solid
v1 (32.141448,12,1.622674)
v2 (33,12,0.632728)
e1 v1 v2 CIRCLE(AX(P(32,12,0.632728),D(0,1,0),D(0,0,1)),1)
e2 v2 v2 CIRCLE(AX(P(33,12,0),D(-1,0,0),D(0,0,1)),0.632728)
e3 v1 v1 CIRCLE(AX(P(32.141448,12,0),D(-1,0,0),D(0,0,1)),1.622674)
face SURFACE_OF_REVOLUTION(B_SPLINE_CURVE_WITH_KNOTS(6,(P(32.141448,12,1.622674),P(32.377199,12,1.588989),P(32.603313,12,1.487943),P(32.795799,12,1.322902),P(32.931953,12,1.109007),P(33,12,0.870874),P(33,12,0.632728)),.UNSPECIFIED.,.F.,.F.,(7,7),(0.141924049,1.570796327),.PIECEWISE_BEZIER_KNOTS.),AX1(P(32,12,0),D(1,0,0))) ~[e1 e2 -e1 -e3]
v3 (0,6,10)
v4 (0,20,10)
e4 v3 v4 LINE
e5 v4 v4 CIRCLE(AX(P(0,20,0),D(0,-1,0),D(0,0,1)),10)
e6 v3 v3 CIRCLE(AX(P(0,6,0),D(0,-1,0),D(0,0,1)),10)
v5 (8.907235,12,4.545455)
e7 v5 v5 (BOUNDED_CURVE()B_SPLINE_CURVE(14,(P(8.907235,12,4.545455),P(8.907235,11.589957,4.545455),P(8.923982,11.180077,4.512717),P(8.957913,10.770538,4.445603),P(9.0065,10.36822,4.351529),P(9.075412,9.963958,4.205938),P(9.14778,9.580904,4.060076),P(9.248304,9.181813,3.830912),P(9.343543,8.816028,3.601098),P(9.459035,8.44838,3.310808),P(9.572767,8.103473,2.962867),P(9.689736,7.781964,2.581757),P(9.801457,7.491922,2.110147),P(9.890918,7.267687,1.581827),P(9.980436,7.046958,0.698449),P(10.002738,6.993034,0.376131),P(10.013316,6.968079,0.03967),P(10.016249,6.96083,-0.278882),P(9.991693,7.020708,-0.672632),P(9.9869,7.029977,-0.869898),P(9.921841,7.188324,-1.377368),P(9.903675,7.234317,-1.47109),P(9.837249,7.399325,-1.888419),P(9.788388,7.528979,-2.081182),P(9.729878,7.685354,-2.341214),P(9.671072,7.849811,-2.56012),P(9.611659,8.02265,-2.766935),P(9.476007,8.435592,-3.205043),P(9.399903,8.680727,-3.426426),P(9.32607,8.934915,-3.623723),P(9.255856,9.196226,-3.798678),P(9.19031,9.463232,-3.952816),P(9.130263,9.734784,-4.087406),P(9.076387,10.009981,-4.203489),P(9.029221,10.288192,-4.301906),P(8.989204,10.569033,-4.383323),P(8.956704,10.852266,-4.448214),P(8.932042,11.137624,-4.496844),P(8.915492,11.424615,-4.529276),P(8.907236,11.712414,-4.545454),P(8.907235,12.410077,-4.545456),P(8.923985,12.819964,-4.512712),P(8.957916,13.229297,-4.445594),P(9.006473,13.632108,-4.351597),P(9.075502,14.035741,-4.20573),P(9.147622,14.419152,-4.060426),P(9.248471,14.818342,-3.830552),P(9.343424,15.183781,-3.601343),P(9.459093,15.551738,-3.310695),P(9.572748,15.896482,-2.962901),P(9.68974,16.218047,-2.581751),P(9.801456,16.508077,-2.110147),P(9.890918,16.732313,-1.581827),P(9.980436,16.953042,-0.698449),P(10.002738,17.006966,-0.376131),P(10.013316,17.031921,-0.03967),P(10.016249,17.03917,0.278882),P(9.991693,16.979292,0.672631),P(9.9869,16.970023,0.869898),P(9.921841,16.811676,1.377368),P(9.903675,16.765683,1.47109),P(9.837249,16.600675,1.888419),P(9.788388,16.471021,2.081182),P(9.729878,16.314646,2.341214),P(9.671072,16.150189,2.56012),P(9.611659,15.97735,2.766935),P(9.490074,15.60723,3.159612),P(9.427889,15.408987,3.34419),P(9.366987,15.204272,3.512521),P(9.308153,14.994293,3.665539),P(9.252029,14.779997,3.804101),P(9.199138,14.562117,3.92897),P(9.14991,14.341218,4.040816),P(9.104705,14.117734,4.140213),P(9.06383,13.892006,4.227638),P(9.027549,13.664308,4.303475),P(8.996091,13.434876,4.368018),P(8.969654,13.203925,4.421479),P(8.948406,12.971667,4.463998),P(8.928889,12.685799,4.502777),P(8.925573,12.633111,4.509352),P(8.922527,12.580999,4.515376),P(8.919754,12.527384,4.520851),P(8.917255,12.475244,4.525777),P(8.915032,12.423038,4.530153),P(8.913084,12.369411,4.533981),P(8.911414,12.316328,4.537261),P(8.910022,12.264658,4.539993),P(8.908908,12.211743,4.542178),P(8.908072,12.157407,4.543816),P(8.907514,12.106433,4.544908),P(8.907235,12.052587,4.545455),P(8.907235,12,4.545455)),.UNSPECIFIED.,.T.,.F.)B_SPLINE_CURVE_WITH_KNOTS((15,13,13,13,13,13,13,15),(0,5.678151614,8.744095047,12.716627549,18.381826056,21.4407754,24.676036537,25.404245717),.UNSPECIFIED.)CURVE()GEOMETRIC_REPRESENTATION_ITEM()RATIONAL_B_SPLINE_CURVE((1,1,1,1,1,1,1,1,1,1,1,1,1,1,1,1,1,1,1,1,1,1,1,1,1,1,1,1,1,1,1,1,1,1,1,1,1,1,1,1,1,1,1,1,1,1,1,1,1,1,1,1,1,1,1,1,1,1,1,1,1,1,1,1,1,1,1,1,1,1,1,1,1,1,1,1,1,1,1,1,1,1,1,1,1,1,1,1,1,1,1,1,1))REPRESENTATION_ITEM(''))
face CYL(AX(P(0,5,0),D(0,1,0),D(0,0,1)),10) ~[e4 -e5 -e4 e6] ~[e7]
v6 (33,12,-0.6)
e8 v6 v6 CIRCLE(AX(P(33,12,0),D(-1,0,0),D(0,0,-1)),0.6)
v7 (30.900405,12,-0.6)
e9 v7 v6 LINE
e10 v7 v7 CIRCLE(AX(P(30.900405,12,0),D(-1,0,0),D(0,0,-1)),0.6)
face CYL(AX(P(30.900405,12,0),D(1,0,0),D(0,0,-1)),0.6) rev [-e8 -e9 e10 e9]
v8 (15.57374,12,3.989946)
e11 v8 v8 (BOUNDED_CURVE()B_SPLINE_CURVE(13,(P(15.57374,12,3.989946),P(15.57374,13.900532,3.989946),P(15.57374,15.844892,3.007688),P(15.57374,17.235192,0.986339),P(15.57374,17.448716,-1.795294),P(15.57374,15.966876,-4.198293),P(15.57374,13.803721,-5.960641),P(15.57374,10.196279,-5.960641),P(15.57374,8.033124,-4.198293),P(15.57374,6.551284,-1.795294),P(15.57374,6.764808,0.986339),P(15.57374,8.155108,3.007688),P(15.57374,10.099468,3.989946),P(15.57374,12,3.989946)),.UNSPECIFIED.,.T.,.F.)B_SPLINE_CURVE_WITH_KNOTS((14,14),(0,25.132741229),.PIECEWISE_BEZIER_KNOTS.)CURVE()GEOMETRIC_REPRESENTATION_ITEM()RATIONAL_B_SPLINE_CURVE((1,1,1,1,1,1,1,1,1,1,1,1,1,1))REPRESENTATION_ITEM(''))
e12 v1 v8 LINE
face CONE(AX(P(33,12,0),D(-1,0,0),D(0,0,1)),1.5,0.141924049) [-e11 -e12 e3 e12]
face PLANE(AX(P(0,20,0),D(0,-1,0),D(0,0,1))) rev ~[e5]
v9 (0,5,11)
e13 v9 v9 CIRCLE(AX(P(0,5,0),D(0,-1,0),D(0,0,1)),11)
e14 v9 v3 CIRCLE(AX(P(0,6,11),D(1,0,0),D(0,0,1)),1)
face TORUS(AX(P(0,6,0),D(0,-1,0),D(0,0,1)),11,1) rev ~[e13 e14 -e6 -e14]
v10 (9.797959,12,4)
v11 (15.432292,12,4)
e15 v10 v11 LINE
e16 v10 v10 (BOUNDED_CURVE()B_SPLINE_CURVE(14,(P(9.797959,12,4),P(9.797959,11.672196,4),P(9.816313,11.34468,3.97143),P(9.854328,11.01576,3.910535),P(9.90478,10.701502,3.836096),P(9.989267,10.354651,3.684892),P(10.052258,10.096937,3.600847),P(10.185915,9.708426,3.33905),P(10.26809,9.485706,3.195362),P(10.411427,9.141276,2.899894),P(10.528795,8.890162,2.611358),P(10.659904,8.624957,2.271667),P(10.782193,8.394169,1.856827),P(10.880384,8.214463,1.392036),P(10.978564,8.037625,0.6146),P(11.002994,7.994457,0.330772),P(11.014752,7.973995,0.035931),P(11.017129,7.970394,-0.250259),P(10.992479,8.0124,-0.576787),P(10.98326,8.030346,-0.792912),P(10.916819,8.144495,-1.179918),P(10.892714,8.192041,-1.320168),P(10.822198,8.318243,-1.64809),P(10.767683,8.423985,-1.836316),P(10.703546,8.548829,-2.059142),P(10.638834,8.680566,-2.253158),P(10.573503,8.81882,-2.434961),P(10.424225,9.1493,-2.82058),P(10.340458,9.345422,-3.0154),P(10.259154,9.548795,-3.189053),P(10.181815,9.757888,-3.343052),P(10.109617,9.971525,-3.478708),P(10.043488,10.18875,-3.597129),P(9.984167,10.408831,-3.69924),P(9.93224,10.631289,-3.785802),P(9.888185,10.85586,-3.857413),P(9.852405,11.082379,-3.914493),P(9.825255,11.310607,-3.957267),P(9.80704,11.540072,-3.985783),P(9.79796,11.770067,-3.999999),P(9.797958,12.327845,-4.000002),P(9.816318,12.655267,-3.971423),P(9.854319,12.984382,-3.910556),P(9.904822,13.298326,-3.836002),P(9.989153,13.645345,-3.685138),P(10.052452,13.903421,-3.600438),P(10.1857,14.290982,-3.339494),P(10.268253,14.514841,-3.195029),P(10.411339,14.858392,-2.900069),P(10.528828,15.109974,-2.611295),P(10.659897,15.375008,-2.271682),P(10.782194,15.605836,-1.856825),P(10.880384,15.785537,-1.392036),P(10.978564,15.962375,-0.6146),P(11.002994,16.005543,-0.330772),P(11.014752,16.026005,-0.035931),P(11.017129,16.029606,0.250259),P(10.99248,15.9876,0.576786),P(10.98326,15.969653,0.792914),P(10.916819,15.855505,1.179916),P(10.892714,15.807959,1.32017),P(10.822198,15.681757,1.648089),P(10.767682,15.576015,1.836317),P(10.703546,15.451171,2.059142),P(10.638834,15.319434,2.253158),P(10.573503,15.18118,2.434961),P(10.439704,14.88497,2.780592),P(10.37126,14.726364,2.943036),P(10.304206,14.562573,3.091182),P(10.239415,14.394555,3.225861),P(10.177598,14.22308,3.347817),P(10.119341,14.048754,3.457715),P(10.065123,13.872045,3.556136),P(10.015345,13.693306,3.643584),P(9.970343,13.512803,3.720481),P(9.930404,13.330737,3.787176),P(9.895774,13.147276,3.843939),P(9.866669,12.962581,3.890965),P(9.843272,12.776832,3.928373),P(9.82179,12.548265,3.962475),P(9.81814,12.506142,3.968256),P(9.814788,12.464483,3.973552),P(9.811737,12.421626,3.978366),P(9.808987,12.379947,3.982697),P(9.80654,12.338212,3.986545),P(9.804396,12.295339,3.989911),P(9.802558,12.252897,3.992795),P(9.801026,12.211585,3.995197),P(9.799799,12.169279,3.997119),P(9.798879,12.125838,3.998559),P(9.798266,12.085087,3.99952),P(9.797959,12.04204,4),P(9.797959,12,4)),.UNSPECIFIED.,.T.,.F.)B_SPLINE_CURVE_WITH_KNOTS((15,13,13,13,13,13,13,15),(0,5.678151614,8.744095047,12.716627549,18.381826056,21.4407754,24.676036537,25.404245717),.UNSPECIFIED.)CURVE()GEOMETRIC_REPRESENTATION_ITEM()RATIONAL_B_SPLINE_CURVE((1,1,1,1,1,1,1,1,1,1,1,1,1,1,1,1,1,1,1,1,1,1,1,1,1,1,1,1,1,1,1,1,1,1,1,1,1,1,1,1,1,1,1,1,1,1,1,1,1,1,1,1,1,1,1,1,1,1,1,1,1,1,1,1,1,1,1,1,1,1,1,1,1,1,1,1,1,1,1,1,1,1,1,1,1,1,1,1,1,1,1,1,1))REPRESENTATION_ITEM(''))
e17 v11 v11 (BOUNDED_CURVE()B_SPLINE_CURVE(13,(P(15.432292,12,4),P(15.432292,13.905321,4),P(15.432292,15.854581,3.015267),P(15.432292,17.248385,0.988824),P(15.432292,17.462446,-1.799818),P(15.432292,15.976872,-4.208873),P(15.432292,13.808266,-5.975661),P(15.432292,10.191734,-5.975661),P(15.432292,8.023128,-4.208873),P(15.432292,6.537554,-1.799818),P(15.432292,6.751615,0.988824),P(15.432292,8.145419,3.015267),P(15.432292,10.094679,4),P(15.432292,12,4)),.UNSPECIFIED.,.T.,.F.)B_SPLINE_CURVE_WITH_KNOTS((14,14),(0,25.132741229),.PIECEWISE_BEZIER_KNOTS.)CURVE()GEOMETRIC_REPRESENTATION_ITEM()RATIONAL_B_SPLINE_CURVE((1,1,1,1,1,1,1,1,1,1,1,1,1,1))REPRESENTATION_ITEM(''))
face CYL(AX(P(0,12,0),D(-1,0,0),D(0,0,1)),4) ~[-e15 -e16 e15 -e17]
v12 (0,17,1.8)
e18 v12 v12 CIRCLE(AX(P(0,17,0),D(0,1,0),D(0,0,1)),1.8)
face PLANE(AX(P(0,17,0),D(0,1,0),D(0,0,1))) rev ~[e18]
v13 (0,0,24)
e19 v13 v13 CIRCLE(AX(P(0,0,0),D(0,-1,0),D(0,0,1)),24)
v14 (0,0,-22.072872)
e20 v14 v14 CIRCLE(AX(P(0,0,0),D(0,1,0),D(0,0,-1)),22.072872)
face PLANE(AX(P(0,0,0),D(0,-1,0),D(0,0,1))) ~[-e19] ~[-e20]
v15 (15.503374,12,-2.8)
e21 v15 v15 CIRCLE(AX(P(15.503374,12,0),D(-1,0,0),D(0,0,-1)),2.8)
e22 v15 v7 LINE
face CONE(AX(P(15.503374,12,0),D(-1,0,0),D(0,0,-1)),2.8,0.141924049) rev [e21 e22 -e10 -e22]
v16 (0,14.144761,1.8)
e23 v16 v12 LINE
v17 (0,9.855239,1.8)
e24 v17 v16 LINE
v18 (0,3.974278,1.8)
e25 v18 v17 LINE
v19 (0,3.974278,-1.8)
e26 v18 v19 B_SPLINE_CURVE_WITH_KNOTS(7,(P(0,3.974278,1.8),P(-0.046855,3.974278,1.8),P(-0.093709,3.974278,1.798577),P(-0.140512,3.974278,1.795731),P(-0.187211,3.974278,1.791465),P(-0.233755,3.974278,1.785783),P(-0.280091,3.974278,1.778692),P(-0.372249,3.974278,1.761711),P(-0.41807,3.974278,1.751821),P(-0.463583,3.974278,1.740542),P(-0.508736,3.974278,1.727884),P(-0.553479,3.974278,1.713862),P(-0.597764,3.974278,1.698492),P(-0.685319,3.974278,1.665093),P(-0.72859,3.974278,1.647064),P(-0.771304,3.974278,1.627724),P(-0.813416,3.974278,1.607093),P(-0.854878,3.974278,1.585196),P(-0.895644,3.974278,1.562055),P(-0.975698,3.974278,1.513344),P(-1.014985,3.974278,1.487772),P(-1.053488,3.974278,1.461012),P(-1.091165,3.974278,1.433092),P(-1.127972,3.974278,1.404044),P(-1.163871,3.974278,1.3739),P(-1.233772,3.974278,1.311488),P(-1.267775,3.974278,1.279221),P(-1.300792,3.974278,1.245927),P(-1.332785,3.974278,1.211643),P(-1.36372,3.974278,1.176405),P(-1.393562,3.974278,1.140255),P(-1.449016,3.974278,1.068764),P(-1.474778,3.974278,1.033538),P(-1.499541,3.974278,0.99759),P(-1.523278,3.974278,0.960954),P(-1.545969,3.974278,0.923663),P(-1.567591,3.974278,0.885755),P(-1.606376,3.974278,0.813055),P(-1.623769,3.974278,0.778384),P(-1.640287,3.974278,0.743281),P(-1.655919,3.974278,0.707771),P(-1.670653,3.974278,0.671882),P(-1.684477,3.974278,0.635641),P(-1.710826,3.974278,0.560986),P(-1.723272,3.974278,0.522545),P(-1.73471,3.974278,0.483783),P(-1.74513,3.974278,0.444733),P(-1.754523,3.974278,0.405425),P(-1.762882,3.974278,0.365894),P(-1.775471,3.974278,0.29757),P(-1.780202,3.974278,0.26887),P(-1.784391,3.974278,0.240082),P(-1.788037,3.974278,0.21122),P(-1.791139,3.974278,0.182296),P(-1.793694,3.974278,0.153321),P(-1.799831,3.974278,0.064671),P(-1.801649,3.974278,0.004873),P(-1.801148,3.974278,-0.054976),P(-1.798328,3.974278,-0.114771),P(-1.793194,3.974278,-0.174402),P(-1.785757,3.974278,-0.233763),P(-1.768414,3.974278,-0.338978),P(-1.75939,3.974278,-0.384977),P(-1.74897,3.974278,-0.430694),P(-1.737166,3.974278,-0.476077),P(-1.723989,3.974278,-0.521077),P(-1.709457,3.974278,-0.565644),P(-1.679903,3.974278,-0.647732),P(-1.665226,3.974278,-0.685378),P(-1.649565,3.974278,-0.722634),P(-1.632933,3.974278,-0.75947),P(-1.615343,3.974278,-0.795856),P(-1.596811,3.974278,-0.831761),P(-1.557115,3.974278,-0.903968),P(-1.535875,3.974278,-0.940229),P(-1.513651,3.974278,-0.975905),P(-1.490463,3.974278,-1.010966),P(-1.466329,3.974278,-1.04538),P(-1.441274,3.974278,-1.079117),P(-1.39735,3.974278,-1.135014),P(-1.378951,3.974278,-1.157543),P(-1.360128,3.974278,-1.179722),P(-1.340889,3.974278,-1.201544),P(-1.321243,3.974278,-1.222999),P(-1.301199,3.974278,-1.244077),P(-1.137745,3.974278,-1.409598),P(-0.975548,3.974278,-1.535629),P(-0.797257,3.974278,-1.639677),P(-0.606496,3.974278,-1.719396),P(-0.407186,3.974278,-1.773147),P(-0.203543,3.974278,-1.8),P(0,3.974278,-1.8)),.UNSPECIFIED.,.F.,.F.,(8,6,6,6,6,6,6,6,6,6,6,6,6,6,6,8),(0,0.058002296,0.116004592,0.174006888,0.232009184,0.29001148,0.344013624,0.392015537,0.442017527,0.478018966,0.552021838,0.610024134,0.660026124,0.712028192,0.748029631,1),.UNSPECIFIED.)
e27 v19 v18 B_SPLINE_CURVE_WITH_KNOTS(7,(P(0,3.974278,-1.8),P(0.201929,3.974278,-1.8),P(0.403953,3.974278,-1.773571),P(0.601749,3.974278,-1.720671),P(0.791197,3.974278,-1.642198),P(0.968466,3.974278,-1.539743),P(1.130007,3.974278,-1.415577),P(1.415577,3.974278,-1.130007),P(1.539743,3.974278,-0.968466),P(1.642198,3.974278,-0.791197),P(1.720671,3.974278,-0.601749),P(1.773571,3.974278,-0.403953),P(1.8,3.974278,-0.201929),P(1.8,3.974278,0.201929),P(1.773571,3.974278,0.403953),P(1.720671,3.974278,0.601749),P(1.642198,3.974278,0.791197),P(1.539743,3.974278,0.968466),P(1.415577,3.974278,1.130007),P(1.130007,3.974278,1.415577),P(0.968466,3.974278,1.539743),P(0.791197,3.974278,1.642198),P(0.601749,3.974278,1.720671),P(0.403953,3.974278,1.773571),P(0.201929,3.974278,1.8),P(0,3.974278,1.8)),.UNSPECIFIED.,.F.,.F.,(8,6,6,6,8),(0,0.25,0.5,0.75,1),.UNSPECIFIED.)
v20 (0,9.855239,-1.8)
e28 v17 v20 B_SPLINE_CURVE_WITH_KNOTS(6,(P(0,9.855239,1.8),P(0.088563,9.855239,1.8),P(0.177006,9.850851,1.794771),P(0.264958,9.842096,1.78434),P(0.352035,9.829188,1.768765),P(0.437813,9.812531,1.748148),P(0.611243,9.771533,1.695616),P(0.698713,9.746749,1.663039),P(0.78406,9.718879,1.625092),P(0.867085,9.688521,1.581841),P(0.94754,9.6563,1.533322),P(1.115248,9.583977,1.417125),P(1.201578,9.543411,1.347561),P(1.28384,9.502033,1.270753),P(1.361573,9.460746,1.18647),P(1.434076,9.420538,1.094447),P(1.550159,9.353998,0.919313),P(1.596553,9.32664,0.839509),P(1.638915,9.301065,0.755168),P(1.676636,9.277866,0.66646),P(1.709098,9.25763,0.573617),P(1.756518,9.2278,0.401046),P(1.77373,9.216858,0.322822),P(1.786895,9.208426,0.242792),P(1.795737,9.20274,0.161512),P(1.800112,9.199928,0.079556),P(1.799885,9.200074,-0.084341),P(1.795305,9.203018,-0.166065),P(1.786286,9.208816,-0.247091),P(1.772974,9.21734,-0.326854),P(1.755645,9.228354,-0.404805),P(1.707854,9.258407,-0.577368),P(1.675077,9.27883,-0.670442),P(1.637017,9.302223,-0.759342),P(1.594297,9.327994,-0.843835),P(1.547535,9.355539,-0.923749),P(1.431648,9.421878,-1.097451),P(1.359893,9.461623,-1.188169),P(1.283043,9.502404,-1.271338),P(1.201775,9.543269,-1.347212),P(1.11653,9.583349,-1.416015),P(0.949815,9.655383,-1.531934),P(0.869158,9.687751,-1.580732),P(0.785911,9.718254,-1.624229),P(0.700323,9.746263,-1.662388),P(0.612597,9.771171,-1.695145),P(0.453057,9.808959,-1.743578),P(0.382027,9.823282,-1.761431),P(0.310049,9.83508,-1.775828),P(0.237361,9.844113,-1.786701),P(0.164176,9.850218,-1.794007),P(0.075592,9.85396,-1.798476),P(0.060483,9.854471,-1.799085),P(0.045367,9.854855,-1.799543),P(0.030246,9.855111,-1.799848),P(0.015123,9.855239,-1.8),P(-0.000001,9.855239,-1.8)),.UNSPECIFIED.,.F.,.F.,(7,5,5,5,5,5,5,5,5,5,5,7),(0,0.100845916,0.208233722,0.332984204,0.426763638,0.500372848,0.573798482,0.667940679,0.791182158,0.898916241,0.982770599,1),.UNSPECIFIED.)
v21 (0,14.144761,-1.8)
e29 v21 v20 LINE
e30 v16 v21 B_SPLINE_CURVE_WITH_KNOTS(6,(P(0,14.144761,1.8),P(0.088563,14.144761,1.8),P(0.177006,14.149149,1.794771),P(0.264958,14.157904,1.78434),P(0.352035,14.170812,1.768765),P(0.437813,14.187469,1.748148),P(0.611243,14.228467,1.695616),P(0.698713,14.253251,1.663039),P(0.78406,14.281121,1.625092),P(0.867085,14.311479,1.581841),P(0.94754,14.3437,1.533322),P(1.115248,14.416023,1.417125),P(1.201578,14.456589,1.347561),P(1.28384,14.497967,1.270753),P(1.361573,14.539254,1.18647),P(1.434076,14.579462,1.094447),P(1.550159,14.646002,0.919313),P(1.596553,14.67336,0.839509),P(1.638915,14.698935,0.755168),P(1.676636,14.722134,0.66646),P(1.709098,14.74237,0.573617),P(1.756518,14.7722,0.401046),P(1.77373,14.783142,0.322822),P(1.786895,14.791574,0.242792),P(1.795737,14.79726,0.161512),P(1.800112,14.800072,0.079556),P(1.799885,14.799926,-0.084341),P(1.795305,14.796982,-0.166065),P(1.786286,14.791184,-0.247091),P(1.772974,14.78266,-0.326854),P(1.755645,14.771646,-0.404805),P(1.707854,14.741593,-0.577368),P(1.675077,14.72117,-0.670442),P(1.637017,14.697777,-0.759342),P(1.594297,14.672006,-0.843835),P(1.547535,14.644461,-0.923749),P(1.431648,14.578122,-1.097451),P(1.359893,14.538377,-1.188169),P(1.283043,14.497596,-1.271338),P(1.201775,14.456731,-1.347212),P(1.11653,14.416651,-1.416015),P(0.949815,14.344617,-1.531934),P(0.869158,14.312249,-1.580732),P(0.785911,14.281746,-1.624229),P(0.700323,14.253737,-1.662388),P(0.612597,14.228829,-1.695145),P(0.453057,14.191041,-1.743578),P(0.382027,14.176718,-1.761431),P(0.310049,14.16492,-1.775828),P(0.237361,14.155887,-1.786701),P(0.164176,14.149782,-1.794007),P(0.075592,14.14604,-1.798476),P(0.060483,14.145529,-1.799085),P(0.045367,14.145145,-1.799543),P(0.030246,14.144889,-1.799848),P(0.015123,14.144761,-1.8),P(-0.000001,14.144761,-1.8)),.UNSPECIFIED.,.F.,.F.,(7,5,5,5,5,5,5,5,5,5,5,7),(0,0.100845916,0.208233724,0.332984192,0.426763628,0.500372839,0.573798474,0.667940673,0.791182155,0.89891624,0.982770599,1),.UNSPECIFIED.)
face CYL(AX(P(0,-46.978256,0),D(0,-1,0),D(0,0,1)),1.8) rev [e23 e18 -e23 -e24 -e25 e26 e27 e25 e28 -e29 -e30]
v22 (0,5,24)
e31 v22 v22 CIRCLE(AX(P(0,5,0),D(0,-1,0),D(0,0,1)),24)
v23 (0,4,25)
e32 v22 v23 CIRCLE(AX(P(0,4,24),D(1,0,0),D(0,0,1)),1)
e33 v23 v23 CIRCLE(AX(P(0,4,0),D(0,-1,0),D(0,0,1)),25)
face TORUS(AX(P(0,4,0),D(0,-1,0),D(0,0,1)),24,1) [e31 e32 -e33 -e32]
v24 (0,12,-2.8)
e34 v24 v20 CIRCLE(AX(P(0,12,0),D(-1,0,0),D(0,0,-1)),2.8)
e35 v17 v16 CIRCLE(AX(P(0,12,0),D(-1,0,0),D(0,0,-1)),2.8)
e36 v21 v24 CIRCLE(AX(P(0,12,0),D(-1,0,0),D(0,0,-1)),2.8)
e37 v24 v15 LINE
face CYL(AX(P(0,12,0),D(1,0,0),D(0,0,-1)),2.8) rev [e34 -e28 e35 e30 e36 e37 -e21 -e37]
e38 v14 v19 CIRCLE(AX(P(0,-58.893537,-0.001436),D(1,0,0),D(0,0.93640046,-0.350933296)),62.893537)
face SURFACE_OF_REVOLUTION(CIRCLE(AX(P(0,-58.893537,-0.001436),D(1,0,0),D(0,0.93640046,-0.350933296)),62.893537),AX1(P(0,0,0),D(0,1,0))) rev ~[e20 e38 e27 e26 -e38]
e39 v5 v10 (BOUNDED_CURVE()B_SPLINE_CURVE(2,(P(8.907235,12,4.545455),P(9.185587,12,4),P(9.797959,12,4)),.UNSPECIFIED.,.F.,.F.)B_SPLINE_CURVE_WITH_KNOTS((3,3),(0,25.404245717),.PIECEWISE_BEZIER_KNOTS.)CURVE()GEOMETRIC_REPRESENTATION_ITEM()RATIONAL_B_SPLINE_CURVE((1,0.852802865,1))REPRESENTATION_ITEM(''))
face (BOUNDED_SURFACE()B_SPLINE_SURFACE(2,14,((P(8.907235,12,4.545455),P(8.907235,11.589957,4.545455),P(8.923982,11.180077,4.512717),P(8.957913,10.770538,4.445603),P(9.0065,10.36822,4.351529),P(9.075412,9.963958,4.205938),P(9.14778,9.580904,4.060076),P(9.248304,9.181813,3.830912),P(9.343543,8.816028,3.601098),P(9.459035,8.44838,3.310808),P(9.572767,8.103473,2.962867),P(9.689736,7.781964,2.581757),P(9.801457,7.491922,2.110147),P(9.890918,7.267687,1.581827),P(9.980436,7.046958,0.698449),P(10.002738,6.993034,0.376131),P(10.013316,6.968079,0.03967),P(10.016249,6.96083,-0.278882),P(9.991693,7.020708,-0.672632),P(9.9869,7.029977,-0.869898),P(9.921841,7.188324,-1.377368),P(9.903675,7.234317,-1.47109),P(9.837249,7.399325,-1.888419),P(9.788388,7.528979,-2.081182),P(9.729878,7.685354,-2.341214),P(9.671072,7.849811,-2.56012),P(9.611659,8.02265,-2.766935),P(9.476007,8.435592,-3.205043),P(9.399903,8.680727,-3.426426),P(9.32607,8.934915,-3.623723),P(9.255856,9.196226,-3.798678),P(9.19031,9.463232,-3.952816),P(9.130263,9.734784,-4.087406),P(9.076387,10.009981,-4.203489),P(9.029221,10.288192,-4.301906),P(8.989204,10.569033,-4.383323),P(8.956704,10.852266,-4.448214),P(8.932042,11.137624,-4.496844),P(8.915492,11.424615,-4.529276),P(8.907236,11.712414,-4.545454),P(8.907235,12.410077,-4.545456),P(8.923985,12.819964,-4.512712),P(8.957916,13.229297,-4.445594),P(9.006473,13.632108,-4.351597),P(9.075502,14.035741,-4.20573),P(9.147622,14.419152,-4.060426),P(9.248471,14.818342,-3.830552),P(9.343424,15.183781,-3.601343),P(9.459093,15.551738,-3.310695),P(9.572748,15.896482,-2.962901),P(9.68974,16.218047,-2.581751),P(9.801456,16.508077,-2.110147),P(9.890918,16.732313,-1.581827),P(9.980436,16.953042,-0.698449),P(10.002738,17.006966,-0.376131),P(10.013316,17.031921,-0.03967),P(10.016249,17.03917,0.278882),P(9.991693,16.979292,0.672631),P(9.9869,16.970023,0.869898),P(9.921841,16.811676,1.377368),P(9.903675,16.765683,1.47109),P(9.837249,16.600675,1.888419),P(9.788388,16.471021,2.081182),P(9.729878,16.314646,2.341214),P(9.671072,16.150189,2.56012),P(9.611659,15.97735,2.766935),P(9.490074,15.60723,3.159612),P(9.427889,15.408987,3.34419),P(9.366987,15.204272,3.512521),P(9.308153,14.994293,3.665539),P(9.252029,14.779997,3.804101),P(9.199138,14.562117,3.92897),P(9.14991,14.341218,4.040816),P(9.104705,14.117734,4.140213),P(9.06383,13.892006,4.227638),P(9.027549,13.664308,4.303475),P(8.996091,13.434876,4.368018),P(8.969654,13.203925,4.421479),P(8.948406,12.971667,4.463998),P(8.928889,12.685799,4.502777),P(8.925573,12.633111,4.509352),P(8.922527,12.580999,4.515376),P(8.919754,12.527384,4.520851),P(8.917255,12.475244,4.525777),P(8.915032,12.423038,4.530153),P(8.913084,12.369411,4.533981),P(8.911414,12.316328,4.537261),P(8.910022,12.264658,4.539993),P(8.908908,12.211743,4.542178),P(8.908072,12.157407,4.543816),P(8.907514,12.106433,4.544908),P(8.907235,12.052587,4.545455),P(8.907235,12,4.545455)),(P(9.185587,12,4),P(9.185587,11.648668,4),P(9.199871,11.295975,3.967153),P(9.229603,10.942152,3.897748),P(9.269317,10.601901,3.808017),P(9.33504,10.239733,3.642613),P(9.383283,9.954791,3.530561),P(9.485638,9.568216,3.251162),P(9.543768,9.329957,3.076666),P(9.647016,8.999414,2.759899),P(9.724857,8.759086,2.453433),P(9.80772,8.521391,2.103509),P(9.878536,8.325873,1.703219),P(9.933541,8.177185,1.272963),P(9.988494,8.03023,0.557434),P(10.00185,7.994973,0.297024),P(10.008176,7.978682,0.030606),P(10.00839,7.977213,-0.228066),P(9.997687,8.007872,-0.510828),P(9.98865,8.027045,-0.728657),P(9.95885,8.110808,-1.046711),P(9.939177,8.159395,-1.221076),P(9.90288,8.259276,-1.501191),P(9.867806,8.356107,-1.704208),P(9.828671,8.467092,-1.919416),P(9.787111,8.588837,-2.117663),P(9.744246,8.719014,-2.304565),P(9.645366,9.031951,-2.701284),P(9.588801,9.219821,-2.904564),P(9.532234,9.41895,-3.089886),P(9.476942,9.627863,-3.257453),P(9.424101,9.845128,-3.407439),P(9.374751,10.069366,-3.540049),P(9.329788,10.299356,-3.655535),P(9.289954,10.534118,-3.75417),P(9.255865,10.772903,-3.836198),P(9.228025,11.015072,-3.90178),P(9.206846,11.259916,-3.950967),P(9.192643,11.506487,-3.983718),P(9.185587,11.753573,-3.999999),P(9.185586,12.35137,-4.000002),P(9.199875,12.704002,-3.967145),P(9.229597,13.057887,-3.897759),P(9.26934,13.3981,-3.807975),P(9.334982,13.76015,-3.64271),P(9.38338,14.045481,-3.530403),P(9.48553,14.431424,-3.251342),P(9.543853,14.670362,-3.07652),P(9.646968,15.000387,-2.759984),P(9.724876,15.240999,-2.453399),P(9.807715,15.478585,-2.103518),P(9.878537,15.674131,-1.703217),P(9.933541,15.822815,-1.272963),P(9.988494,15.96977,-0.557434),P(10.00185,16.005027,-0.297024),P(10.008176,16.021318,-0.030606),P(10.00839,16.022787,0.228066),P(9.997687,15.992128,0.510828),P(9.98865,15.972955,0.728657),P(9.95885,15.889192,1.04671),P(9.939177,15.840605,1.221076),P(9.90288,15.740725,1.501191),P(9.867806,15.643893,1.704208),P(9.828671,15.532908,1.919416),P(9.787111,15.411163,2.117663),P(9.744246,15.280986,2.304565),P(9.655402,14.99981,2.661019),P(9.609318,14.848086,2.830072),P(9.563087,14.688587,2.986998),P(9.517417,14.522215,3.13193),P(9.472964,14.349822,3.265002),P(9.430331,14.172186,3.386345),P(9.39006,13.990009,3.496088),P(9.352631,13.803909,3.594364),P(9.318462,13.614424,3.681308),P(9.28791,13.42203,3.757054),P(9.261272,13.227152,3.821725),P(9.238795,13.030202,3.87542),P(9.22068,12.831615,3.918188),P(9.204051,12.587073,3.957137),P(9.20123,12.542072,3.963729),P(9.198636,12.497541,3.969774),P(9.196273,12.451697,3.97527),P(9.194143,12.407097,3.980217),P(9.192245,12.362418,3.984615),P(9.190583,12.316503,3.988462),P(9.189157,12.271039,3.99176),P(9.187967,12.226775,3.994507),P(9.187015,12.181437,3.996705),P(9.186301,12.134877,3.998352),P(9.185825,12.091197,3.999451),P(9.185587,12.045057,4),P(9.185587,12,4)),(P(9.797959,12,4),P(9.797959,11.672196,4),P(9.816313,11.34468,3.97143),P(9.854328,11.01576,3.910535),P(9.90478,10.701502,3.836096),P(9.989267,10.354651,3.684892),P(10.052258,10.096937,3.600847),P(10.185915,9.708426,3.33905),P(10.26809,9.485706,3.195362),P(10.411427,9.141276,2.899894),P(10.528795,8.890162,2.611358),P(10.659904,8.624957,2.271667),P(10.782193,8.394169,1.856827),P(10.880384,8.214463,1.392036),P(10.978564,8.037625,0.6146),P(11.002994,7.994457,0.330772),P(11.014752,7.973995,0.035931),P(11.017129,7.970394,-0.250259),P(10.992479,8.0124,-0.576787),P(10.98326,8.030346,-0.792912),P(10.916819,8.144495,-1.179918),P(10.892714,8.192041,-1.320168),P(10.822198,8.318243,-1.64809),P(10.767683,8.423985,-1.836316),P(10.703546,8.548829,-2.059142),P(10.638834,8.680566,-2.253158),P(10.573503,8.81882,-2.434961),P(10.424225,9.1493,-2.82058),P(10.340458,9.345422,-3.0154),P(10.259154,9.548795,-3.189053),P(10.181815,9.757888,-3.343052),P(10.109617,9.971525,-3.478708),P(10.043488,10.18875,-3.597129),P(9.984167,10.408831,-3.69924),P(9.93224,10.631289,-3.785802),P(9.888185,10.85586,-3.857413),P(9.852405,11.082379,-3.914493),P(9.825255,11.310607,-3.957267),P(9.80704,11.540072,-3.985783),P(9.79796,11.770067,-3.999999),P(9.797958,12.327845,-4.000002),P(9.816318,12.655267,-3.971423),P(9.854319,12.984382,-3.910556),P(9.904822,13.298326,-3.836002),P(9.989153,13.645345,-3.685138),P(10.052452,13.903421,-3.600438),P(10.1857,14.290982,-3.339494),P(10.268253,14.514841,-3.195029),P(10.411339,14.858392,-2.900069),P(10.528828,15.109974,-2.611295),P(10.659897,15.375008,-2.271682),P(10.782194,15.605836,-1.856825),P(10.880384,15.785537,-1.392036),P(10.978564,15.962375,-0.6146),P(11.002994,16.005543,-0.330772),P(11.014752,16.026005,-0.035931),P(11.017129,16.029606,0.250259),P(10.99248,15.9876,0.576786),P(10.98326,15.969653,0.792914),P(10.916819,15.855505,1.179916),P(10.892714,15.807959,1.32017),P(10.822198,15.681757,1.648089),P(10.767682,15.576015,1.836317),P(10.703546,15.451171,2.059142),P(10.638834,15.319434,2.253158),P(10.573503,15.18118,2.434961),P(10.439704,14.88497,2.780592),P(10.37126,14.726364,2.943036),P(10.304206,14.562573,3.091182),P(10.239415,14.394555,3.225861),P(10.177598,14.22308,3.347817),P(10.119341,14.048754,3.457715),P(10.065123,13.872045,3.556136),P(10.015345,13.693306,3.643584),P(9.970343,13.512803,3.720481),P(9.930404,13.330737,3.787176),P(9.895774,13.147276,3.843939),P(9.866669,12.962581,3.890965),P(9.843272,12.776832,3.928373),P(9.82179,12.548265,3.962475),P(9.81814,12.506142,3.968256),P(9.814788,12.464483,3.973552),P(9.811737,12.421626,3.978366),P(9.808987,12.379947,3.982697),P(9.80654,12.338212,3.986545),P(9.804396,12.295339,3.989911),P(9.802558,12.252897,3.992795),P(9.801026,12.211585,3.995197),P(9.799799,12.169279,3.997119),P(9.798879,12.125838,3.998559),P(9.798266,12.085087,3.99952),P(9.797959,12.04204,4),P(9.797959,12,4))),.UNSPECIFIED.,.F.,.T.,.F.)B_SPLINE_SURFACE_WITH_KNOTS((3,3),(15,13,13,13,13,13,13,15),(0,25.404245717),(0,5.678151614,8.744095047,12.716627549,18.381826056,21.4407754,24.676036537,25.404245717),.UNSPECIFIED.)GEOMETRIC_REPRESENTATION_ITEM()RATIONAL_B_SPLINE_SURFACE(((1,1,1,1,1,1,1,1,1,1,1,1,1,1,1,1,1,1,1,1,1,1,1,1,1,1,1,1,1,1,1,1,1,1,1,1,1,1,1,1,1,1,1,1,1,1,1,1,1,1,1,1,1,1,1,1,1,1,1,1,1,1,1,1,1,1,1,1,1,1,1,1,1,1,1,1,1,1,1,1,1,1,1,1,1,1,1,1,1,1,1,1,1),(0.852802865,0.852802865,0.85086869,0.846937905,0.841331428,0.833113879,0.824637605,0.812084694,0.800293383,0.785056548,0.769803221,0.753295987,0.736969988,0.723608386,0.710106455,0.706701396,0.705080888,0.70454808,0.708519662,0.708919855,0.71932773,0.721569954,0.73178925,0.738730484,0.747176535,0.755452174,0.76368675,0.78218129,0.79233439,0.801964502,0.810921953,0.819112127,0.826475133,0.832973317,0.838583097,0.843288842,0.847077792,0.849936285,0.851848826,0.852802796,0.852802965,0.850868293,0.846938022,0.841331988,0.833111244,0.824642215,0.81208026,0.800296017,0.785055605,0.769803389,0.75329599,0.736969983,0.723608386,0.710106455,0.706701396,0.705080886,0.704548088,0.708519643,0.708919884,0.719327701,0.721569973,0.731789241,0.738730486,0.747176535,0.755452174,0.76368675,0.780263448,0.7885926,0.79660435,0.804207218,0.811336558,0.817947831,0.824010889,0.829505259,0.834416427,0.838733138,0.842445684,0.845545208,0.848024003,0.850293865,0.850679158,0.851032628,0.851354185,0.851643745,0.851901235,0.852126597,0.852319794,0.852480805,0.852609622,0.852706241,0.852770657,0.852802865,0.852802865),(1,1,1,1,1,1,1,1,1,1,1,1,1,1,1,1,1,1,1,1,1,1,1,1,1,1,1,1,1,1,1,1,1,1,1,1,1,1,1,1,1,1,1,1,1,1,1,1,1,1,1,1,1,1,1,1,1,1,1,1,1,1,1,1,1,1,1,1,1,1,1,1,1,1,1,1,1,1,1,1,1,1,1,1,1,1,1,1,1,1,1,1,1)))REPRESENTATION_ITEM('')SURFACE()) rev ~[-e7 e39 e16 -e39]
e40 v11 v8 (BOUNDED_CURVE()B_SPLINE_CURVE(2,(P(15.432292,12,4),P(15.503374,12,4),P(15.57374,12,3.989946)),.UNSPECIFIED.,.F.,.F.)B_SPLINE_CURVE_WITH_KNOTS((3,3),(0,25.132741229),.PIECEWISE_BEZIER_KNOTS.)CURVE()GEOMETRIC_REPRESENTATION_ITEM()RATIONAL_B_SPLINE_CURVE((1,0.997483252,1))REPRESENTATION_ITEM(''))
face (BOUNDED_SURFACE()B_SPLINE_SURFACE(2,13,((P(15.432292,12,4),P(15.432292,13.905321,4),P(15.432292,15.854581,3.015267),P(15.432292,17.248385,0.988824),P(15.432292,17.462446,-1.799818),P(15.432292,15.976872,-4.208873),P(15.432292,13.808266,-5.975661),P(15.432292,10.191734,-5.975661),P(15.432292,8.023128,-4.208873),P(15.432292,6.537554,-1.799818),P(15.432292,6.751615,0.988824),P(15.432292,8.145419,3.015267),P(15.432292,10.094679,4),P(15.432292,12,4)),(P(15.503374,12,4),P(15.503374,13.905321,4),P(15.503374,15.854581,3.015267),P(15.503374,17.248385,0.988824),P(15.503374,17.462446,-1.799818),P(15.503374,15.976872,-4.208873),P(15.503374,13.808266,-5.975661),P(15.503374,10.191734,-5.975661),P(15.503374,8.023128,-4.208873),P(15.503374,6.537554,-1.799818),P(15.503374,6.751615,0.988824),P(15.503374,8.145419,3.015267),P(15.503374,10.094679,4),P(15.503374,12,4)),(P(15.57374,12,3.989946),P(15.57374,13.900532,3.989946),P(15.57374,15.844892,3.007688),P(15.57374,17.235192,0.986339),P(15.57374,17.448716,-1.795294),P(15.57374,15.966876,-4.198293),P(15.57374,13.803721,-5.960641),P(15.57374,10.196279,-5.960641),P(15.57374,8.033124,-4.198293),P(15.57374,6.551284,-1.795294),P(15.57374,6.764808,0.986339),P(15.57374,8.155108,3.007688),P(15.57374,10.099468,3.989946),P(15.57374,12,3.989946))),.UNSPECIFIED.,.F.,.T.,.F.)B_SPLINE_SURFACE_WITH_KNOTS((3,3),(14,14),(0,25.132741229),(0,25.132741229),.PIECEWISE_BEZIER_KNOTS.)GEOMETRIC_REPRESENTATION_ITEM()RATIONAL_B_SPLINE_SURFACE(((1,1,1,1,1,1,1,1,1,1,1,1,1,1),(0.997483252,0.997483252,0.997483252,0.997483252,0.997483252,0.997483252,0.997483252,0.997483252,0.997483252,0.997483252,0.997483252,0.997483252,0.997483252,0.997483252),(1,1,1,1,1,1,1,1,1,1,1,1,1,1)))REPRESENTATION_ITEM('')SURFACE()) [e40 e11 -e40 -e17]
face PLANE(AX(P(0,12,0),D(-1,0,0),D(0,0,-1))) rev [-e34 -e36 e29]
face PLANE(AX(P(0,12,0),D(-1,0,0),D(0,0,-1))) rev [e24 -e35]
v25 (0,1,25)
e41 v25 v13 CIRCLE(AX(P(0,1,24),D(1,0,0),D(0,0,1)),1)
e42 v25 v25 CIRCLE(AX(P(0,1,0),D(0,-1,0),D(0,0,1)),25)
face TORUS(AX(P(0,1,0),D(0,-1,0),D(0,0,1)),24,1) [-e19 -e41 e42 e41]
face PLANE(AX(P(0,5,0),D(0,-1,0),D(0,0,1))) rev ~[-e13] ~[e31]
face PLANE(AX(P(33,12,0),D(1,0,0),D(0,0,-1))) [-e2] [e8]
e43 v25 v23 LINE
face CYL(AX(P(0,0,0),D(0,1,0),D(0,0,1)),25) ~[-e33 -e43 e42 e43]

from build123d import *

# Parameters (mm, degrees)
SKETCH3_R               = 4
BOSS_EXTRUDE1_DEPTH     = 25
BOSS_EXTRUDE2_START     = 25
SKETCH3_5_R             = 3
BOSS_EXTRUDE2_DEPTH     = 8
FILLET1_R               = 1
CUT_EXTRUDE1_DEPTH      = 17
CUT_EXTRUDE1_DEPTH_BACK = 46.978255774
SKETCH15_R              = 1.8
FILLET3_R               = 1


with BuildPart() as part:
    # Sketch1 → Revolve1 (revolve)
    with BuildSketch(Plane.XY, mode=Mode.PRIVATE) as revolve1_sk:
        Polygon((0, 20), (0, 0), (25, 0), (25, 5), (10, 5), (10, 20), align=None)
    revolve(revolve1_sk.sketch.rotate(Axis((0, 20, 0), (0, -1, 0)), 90), axis=Axis((0, 20, 0), (0, -1, 0)))

    # Sketch3 → Boss-Extrude1 (add)
    with BuildSketch(Plane(origin=(0, 0, 0), x_dir=(0, 0, -1), z_dir=(1, 0, 0))):
        with Locations(Location((0, 12, 0), (0, 0, 180))):
            Circle(SKETCH3_R)
    extrude(amount=BOSS_EXTRUDE1_DEPTH)

    # Sketch3<5> → Boss-Extrude2 (add)
    with BuildSketch(Plane(origin=(0, 0, 0), x_dir=(0, 0, -1), z_dir=(1, 0, 0)).offset(BOSS_EXTRUDE2_START)):
        with Locations((0, 12)):
            Circle(SKETCH3_5_R)
    extrude(amount=BOSS_EXTRUDE2_DEPTH)

    # Fillet1
    fillet1_edges = [part.edges().sort_by_distance(p)[0] for p in [
        (0, 5, -25),
        (0, 0, -25),
    ]]
    fillet(fillet1_edges, radius=FILLET1_R)

    # Sketch11 → Cut-Revolve10 (revolve, cut)
    with BuildSketch(Plane.XY, mode=Mode.PRIVATE) as cut_revolve10_sk:
        with BuildLine():
            Line((0, 4), (0, 0))
            Line((0, 0), (22.072872435, 0))
            ThreePointArc((22.072872435, 0), (11.216213299, 2.992049146), (0, 4))
        make_face()
    revolve(cut_revolve10_sk.sketch.rotate(Axis((0, 0, 0), (0, 1, 0)), 90), axis=Axis((0, 0, 0), (0, 1, 0)), mode=Mode.SUBTRACT)

    # Sketch15 → Cut-Extrude1 (cut, two sides: drawn at the far end of the back side and taken through both)
    with BuildSketch(Plane(origin=(0, 0, 0), x_dir=(1, 0, 0), z_dir=(0, 1, 0)).offset(-CUT_EXTRUDE1_DEPTH_BACK)):
        with Locations(Location((0, 0, 0), (0, 0, 270))):
            Circle(SKETCH15_R)
    extrude(amount=CUT_EXTRUDE1_DEPTH + CUT_EXTRUDE1_DEPTH_BACK, mode=Mode.SUBTRACT)

    # Sketch16 → Cut-Revolve12 (revolve, cut)
    with BuildSketch(Plane.XY, mode=Mode.PRIVATE) as cut_revolve12_sk:
        Polygon((33, 15), (33, 13.5), (15.503373698, 16), (33, 16), align=None)
    revolve(cut_revolve12_sk.sketch.rotate(Axis((33, 12, 0), (-1, 0, 0)), 270), axis=Axis((33, 12, 0), (-1, 0, 0)), mode=Mode.SUBTRACT)

    # Sketch17 → Cut-Revolve13 (revolve, cut)
    with BuildSketch(Plane.XY, mode=Mode.PRIVATE) as cut_revolve13_sk:
        Polygon((33, 12.6), (33, 12), (0, 12), (0, 14.8), (15.503373698, 14.8), (30.900404844, 12.6), align=None)
    revolve(cut_revolve13_sk.sketch.rotate(Axis((33, 12, 0), (-1, 0, 0)), 90), axis=Axis((33, 12, 0), (-1, 0, 0)), mode=Mode.SUBTRACT)

    # Fillet3
    fillet3_edges = [part.edges().sort_by_distance(p)[0] for p in [
        (9.16515139, 12, -4),
        (15.503373698, 12, -4),
        (33, 12, -1.5),
        (0, 5, -10),
    ]]
    fillet(fillet3_edges, radius=FILLET3_R)


solid = part.part
